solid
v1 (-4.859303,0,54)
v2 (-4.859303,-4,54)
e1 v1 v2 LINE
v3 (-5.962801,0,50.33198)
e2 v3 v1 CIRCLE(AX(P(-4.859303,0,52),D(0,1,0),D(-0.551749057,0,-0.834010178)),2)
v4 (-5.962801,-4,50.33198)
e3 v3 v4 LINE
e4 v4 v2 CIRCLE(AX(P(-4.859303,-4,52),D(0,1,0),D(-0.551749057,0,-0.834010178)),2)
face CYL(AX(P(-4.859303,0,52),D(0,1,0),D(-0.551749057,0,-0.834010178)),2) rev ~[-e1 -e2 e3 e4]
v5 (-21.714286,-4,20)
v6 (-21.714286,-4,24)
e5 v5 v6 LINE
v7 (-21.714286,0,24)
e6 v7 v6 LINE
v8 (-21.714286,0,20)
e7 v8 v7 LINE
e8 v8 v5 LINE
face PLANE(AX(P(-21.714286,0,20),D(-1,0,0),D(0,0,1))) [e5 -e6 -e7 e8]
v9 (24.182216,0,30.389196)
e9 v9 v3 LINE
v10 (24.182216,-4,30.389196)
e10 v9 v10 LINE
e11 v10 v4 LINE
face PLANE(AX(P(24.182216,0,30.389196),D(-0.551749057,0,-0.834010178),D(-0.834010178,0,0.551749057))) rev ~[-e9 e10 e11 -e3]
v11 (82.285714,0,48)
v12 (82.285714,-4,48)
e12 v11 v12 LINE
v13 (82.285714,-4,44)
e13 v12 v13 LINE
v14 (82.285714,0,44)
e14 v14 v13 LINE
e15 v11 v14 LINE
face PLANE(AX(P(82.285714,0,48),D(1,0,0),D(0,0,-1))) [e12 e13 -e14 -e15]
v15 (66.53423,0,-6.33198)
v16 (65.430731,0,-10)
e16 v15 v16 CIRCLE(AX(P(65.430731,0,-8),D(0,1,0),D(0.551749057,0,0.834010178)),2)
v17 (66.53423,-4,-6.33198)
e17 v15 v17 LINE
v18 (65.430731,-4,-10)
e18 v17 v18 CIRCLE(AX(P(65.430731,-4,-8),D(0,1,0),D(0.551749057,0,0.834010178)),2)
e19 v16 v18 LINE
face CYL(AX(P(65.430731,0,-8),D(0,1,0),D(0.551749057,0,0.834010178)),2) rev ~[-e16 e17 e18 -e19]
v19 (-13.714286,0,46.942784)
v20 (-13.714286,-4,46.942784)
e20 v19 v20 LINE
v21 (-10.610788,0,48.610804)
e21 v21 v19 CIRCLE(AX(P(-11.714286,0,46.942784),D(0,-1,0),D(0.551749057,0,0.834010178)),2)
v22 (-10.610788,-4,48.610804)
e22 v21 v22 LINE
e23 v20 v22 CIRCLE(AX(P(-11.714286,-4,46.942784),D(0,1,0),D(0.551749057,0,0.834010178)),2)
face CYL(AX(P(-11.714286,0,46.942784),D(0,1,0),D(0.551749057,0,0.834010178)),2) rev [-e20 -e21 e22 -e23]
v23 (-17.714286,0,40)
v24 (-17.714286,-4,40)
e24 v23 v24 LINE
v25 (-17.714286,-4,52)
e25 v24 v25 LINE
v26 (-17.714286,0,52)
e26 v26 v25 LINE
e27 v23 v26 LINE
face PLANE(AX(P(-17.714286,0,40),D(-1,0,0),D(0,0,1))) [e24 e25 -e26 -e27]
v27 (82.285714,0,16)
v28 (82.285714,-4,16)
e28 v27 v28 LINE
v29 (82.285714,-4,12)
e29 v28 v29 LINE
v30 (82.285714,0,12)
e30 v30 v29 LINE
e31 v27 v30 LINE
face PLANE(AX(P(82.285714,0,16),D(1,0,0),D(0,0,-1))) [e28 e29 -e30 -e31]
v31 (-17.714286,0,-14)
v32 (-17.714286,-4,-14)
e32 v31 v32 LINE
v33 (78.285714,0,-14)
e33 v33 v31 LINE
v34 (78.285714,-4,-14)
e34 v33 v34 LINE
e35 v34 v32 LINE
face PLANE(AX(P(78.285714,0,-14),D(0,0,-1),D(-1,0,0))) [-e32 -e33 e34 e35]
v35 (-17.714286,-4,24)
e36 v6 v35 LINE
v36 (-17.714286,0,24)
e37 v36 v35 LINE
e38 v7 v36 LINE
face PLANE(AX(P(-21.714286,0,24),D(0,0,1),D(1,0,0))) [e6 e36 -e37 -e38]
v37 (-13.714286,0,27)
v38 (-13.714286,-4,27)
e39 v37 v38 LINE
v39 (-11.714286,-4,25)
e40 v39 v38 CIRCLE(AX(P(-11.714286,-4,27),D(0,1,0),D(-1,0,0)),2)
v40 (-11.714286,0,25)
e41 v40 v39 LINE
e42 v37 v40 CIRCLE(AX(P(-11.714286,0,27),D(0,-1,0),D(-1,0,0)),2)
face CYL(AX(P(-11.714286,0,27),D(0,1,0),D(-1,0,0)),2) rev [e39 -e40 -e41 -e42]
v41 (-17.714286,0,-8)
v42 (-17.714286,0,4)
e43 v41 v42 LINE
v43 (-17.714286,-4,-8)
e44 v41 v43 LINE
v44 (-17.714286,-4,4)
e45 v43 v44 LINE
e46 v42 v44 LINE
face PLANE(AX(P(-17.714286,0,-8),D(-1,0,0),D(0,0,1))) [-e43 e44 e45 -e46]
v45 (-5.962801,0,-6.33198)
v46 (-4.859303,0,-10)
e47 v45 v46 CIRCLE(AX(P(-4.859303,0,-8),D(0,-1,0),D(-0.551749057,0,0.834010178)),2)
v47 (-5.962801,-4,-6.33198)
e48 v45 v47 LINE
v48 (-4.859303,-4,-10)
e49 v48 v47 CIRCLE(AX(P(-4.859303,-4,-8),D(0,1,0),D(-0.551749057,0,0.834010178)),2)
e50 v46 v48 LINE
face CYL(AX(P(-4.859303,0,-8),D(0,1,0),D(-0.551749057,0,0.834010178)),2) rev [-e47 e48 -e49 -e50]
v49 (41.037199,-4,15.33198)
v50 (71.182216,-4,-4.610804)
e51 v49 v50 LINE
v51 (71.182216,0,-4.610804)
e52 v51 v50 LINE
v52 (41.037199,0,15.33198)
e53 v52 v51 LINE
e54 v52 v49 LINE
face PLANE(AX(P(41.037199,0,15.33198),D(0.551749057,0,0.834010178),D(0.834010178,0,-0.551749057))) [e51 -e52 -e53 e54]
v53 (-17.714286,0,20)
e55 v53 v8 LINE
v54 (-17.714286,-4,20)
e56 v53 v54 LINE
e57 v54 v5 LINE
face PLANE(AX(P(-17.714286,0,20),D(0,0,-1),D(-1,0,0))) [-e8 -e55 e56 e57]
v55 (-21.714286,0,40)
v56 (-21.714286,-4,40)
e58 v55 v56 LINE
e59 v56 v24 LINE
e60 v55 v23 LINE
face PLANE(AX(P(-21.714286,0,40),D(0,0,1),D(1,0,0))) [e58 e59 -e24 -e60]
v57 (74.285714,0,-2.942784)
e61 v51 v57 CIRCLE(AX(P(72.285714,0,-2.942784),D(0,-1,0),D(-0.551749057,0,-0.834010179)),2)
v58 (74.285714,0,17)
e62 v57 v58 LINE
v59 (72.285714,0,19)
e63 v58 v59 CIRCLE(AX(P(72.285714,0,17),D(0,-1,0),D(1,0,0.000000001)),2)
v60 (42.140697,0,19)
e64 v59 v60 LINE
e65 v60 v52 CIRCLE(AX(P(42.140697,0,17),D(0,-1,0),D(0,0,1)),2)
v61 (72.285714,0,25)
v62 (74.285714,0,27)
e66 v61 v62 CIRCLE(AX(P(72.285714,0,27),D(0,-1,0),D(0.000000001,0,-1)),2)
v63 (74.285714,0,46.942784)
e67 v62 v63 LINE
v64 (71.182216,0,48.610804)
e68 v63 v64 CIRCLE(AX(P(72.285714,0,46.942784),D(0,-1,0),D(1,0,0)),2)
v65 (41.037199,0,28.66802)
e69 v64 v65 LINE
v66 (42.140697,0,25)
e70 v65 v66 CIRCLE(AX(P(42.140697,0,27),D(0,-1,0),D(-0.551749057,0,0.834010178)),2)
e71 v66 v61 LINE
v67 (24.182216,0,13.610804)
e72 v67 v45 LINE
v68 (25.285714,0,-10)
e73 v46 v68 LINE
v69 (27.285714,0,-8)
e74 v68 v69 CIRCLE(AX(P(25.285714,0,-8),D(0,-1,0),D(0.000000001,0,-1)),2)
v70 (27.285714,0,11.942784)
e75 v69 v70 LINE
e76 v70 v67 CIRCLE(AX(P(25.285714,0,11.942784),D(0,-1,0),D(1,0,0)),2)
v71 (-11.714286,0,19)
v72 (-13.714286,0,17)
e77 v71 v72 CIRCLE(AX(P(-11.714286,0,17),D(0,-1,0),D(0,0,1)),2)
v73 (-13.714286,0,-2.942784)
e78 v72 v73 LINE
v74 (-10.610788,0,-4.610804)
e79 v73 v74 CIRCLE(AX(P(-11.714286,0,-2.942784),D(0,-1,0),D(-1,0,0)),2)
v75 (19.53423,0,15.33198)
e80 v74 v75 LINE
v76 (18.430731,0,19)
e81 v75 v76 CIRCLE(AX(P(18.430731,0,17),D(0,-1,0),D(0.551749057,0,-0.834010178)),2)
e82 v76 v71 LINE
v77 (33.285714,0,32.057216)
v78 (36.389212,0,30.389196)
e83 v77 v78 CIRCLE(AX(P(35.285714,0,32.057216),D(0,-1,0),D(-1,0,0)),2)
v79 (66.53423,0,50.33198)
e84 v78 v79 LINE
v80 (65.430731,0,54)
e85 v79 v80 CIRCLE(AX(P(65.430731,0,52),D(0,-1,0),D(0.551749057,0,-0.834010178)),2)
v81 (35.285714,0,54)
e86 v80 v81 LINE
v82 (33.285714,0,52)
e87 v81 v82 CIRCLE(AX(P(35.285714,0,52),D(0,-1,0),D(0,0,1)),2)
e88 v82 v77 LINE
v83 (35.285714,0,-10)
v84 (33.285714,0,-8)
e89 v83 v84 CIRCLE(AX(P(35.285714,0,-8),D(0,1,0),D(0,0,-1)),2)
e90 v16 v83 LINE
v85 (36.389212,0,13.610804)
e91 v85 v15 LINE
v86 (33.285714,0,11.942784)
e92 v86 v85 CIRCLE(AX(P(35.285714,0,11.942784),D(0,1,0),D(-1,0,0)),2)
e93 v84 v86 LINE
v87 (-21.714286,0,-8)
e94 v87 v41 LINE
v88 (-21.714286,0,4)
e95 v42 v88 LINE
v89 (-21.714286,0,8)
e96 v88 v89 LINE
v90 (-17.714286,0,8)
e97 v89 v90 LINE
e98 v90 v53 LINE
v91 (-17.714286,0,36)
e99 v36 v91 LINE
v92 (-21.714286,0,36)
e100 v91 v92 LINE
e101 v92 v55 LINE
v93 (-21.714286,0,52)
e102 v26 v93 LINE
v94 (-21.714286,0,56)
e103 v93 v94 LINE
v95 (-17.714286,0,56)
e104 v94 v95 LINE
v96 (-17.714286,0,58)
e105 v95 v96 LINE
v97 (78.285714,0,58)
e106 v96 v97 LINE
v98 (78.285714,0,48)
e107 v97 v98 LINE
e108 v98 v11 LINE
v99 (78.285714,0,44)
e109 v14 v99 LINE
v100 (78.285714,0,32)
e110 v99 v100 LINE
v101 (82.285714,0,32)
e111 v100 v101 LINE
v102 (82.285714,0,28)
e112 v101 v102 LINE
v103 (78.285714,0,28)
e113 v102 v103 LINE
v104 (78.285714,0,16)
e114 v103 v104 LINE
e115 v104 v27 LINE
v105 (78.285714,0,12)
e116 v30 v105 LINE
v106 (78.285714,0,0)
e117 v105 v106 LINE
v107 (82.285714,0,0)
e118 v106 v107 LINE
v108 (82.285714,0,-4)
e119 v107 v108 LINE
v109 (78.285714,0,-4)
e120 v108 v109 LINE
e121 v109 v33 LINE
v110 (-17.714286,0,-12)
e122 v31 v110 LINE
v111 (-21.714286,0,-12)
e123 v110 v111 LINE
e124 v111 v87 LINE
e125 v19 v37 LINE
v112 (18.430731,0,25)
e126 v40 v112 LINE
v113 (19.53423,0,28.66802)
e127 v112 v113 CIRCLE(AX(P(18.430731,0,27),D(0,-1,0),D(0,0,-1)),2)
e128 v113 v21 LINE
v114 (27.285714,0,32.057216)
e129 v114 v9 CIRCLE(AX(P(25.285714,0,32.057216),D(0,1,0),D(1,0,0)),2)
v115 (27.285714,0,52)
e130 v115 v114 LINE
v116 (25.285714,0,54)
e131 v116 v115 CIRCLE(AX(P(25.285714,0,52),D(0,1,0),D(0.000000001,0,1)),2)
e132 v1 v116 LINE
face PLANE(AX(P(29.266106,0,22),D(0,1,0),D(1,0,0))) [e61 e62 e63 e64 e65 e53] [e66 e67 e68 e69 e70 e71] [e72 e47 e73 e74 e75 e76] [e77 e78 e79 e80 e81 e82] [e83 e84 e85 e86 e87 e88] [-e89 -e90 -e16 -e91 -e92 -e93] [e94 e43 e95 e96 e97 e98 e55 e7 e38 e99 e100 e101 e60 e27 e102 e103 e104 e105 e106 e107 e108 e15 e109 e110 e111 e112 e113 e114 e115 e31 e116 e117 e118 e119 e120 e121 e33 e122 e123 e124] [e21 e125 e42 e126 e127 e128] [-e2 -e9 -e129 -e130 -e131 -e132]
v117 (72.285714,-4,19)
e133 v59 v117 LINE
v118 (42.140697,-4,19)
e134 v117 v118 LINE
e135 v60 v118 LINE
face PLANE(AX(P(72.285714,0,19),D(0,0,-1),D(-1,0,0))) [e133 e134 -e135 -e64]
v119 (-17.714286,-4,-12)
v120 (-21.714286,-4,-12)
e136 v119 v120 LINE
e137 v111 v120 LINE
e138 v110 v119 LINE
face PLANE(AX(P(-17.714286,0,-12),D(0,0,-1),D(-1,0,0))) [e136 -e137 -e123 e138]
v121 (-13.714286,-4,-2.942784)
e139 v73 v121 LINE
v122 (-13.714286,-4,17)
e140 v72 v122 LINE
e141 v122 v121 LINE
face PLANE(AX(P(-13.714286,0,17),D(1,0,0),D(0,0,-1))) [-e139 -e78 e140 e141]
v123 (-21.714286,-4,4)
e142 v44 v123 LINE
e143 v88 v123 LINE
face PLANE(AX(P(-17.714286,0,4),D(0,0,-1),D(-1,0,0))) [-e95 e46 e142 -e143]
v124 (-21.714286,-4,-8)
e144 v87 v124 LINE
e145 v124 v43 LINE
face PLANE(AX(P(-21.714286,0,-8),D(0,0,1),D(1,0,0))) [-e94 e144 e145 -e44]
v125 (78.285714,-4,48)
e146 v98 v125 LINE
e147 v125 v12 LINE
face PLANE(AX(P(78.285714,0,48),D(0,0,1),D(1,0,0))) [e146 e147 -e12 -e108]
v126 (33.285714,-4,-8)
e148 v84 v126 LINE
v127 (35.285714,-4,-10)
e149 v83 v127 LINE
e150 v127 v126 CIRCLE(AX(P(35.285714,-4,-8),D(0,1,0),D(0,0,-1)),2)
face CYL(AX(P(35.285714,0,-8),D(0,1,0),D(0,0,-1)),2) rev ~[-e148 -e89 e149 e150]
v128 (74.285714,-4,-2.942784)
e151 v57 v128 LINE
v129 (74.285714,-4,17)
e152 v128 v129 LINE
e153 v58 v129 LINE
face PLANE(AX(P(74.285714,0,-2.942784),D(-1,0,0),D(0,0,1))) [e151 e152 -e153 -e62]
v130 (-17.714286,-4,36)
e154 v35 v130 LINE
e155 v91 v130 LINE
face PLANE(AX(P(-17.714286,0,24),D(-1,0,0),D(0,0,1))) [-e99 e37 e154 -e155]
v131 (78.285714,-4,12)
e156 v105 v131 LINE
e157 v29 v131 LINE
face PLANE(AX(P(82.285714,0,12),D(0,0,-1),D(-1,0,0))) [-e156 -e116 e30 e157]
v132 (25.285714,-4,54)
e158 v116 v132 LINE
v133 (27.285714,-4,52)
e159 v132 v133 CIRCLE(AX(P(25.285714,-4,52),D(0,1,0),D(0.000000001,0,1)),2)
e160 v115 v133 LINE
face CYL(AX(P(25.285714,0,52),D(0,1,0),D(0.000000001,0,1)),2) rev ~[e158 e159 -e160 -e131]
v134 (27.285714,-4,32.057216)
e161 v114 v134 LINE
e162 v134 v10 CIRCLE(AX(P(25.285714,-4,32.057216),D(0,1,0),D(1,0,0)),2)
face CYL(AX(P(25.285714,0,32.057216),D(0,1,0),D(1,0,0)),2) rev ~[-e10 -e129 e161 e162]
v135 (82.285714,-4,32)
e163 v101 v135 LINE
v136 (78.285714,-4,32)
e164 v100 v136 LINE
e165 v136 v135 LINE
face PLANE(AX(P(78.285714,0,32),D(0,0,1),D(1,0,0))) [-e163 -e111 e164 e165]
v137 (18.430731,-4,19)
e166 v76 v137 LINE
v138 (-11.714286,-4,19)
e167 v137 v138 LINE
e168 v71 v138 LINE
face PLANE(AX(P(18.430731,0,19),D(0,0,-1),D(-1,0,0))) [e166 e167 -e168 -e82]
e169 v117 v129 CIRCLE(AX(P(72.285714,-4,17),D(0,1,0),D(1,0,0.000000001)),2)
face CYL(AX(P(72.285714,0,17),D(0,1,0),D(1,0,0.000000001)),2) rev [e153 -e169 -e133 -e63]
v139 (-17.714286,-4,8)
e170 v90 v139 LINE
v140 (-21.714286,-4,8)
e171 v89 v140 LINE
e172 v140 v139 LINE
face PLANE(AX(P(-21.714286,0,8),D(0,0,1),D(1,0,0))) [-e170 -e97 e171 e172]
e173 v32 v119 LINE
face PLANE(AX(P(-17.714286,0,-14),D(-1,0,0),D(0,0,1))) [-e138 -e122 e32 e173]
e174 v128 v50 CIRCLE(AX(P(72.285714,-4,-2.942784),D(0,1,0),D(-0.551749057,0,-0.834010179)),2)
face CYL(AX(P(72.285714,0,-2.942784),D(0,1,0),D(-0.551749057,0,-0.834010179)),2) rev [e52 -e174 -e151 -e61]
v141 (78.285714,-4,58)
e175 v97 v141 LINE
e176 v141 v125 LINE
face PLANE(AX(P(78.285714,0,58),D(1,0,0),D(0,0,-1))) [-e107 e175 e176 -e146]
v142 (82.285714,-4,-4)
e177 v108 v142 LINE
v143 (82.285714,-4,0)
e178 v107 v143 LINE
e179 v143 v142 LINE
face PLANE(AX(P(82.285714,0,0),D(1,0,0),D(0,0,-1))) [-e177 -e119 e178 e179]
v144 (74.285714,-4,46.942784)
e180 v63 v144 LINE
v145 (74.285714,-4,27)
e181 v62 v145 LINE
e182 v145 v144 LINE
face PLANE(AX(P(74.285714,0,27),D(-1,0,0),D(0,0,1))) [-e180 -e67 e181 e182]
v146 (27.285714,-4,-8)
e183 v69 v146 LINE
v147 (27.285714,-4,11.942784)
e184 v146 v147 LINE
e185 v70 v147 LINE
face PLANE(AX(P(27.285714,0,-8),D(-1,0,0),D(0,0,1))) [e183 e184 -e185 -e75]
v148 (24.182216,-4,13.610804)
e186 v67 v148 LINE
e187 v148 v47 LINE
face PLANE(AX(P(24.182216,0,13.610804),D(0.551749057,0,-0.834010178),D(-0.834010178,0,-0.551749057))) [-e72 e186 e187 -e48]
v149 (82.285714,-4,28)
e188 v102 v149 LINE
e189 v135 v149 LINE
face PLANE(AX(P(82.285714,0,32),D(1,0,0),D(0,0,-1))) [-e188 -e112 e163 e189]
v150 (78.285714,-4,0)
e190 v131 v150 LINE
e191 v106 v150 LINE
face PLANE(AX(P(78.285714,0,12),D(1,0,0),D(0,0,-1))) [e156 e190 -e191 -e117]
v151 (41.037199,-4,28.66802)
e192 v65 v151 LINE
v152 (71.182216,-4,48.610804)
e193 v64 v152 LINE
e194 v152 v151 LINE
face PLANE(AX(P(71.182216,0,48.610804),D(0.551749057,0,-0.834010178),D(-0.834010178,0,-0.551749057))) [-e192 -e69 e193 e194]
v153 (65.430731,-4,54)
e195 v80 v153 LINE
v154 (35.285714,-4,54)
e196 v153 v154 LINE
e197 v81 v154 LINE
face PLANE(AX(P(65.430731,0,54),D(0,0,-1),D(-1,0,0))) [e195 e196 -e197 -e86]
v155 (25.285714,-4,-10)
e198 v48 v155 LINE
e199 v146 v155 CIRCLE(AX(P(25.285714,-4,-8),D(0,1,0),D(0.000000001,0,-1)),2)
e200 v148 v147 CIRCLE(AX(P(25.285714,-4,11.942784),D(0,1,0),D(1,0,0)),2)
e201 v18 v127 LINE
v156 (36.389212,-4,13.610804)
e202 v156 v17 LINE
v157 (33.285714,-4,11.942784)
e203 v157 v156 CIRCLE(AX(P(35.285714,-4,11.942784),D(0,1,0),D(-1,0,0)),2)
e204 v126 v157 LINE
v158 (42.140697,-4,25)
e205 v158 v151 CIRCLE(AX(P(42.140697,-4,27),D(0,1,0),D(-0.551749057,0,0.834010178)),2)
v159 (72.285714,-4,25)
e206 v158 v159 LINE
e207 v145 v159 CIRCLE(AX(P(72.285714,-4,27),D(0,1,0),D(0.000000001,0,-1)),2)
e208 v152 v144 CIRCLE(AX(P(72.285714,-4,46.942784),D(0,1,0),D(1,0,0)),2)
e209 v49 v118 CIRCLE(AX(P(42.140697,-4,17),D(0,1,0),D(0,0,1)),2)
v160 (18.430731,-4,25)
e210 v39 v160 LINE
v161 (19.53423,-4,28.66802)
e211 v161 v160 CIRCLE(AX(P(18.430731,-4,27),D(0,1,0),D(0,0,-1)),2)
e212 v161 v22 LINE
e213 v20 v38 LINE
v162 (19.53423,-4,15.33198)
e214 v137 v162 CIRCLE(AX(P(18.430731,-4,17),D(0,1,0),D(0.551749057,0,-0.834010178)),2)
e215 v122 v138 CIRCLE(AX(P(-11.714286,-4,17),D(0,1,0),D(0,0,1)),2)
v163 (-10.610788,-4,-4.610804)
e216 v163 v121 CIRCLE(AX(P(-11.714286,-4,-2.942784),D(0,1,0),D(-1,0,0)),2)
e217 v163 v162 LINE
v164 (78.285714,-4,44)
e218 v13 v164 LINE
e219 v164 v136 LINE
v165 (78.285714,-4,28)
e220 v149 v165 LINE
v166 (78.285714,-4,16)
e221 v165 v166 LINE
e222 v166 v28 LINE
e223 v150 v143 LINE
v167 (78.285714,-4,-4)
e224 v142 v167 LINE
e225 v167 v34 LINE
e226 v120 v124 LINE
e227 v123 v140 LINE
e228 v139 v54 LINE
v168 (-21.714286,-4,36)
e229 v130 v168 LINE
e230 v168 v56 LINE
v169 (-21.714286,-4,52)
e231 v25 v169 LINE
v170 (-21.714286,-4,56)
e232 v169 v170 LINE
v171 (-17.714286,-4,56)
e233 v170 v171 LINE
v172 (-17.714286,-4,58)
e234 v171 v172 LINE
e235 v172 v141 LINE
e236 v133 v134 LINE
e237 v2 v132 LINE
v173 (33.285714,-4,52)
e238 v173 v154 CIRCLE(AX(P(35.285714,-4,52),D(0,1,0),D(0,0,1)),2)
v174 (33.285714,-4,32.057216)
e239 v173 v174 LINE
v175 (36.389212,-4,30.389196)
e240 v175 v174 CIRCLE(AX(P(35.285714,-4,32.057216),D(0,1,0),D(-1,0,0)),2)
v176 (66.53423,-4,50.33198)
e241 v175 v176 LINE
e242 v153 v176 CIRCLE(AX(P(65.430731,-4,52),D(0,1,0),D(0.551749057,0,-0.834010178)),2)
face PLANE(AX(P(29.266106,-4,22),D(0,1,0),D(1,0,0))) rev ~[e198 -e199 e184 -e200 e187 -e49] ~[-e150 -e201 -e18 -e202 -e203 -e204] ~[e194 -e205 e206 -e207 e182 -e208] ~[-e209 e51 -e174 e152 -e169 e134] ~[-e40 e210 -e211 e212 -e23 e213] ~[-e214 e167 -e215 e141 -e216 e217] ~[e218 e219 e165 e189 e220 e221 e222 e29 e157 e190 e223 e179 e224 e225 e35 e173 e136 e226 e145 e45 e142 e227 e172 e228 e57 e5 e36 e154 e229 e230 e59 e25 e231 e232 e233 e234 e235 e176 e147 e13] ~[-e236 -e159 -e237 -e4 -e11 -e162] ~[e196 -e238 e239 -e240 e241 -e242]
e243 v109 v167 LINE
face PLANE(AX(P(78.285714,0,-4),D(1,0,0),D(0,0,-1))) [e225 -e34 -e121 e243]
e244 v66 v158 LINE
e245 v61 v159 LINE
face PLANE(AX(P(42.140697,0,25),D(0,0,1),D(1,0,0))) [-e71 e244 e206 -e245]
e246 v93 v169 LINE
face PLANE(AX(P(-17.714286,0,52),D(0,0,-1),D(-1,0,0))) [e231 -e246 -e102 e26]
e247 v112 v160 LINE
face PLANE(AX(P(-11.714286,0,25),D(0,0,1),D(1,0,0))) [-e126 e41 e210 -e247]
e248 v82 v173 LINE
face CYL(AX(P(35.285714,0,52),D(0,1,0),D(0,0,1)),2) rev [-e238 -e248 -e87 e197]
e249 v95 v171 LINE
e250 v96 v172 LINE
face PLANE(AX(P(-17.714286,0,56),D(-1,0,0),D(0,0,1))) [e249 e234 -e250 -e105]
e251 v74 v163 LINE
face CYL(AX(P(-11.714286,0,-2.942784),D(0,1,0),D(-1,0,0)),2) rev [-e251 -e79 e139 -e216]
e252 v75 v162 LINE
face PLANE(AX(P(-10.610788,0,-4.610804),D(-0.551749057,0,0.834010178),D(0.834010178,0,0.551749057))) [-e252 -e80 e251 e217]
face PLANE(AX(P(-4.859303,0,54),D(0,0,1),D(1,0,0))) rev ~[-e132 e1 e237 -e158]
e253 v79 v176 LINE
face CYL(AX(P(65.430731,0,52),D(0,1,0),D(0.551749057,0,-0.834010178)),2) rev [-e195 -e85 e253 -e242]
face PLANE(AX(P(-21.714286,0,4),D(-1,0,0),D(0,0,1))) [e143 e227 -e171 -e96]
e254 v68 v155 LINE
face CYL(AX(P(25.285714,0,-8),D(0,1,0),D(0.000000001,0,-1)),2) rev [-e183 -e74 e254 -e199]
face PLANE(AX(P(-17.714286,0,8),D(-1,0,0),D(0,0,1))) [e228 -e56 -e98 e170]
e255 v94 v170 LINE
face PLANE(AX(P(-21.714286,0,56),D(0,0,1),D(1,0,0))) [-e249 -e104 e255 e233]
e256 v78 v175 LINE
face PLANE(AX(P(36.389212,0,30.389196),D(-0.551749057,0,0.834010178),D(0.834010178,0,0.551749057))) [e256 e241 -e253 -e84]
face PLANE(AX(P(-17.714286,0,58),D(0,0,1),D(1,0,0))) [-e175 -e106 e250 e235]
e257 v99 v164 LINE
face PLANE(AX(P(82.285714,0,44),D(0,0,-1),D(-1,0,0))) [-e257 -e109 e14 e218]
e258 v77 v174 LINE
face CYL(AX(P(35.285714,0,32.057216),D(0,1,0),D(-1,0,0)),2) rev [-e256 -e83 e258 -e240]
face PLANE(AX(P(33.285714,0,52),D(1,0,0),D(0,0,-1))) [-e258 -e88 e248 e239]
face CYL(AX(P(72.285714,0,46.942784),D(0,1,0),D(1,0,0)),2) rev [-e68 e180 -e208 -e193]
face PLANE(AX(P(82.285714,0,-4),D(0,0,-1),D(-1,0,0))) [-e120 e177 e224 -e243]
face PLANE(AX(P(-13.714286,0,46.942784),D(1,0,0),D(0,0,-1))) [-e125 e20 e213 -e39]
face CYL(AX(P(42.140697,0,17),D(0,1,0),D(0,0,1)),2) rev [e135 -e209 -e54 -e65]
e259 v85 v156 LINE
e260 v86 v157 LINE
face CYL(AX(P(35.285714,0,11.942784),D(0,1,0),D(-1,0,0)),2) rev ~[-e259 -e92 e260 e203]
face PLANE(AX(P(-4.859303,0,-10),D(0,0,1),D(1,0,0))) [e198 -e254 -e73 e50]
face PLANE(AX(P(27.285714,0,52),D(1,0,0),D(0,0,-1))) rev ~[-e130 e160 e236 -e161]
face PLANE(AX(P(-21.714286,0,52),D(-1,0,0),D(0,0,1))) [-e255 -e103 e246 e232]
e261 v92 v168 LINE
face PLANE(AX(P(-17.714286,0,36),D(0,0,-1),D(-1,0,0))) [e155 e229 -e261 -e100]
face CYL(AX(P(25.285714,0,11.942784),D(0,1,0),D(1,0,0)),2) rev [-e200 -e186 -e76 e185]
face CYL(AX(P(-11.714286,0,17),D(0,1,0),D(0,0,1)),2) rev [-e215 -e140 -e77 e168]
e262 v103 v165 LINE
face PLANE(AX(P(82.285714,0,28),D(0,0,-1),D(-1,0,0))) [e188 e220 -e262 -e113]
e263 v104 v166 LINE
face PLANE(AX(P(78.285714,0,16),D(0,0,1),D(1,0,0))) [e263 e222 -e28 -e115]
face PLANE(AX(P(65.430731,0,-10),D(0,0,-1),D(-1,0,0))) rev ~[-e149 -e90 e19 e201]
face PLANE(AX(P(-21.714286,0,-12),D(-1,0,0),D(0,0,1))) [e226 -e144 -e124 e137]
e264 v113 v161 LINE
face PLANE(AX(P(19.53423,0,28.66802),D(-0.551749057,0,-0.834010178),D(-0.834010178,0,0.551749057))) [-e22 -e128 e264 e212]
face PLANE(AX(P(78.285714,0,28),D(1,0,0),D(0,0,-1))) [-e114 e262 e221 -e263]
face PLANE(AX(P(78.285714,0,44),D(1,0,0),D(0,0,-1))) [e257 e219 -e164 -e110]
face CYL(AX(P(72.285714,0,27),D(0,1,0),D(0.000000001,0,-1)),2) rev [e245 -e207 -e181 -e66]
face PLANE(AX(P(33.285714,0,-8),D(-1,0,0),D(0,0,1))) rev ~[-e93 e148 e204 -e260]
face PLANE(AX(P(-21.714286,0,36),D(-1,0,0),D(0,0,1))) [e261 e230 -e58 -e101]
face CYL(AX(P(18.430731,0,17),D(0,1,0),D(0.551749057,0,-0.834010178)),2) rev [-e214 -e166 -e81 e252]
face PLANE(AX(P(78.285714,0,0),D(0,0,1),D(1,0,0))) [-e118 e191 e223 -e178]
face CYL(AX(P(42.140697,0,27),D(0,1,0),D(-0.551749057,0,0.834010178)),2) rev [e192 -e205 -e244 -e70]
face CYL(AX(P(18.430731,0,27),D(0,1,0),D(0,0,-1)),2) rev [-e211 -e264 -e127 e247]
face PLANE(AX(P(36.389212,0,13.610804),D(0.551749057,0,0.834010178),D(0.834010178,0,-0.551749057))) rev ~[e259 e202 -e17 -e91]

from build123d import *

# Parameters (mm, degrees)
BOSS_EXTRUDE1_DEPTH = 4
CUT_EXTRUDE1_DEPTH  = 10


with BuildPart() as part:
    # Sketch1 → Boss-Extrude1 (new body)
    with BuildSketch(Plane(origin=(0, 0, 0), x_dir=(1, 0, 0), z_dir=(0, 1, 0))):
        Polygon((-17.714285714, 14), (-17.714285714, 12), (-21.714285714, 12), (-21.714285714, 8), (-17.714285714, 8), (-17.714285714, -4), (-21.714285714, -4), (-21.714285714, -8), (-17.714285714, -8), (-17.714285714, -20), (-21.714285714, -20), (-21.714285714, -24), (-17.714285714, -24), (-17.714285714, -36), (-21.714285714, -36), (-21.714285714, -40), (-17.714285714, -40), (-17.714285714, -52), (-21.714285714, -52), (-21.714285714, -56), (-17.714285714, -56), (-17.714285714, -58), (78.285714286, -58), (78.285714286, -48), (82.285714286, -48), (82.285714286, -44), (78.285714286, -44), (78.285714286, -32), (82.285714286, -32), (82.285714286, -28), (78.285714286, -28), (78.285714286, -16), (82.285714286, -16), (82.285714286, -12), (78.285714286, -12), (78.285714286, 0), (82.285714286, 0), (82.285714286, 4), (78.285714286, 4), (78.285714286, 14), align=None)
    extrude(amount=-BOSS_EXTRUDE1_DEPTH)

    # Sketch2 → Cut-Extrude1 (cut)
    with BuildSketch(Plane(origin=(0, 0, 0), x_dir=(1, 0, 0), z_dir=(0, 1, 0))):
        with BuildLine():
            Line((-4.859302854, 10), (25.285714286, 10))
            ThreePointArc((25.285714286, 10), (26.699927848, 9.414213562), (27.285714286, 8))
            Line((27.285714286, 8), (27.285714286, -11.94278394))
            ThreePointArc((27.285714286, -11.94278394), (26.23255212, -13.704458744), (24.182216171, -13.610804297))
            Line((24.182216171, -13.610804297), (-5.962800969, 6.331979643))
            ThreePointArc((-5.962800969, 6.331979643), (-6.774510508, 8.576176746), (-4.859302854, 10))
        make_face()
        with BuildLine():
            Line((33.285714286, 8), (33.285714286, -11.94278394))
            ThreePointArc((33.285714286, -11.94278394), (34.338876451, -13.704458744), (36.3892124, -13.610804297))
            Line((36.3892124, -13.610804297), (66.53422954, 6.331979643))
            ThreePointArc((66.53422954, 6.331979643), (67.345939079, 8.576176746), (65.430731426, 10))
            Line((65.430731426, 10), (35.285714286, 10))
            ThreePointArc((35.285714286, 10), (33.871500723, 9.414213562), (33.285714286, 8))
        make_face()
        with BuildLine():
            ThreePointArc((74.285714286, -17), (73.699927848, -18.414213562), (72.285714286, -19))
            Line((72.285714286, -19), (42.140697146, -19))
            ThreePointArc((42.140697146, -19), (40.225489492, -17.576176746), (41.037199031, -15.331979643))
            Line((41.037199031, -15.331979643), (71.182216171, 4.610804297))
            ThreePointArc((71.182216171, 4.610804297), (73.23255212, 4.704458744), (74.285714286, 2.94278394))
            Line((74.285714286, 2.94278394), (74.285714286, -17))
        make_face()
        with BuildLine():
            ThreePointArc((74.285714286, -46.94278394), (73.23255212, -48.704458744), (71.182216171, -48.610804297))
            Line((71.182216171, -48.610804297), (41.037199031, -28.668020357))
            ThreePointArc((41.037199031, -28.668020357), (40.225489492, -26.423823254), (42.140697146, -25))
            Line((42.140697146, -25), (72.285714286, -25))
            ThreePointArc((72.285714286, -25), (73.699927848, -25.585786438), (74.285714286, -27))
            Line((74.285714286, -27), (74.285714286, -46.94278394))
        make_face()
        with BuildLine():
            Line((65.430731426, -54), (35.285714286, -54))
            ThreePointArc((35.285714286, -54), (33.871500723, -53.414213562), (33.285714286, -52))
            Line((33.285714286, -52), (33.285714286, -32.05721606))
            ThreePointArc((33.285714286, -32.05721606), (34.338876451, -30.295541256), (36.3892124, -30.389195703))
            Line((36.3892124, -30.389195703), (66.53422954, -50.331979643))
            ThreePointArc((66.53422954, -50.331979643), (67.345939079, -52.576176746), (65.430731426, -54))
        make_face()
        with BuildLine():
            Line((27.285714286, -52), (27.285714286, -32.05721606))
            ThreePointArc((27.285714286, -32.05721606), (26.23255212, -30.295541256), (24.182216171, -30.389195703))
            Line((24.182216171, -30.389195703), (-5.962800969, -50.331979643))
            ThreePointArc((-5.962800969, -50.331979643), (-6.774510508, -52.576176746), (-4.859302854, -54))
            Line((-4.859302854, -54), (25.285714286, -54))
            ThreePointArc((25.285714286, -54), (26.699927848, -53.414213562), (27.285714286, -52))
        make_face()
        with BuildLine():
            ThreePointArc((-13.714285714, -27), (-13.128499277, -25.585786438), (-11.714285714, -25))
            Line((-11.714285714, -25), (18.430731426, -25))
            ThreePointArc((18.430731426, -25), (20.345939079, -26.423823254), (19.53422954, -28.668020357))
            Line((19.53422954, -28.668020357), (-10.6107876, -48.610804297))
            ThreePointArc((-10.6107876, -48.610804297), (-12.661123549, -48.704458744), (-13.714285714, -46.94278394))
            Line((-13.714285714, -46.94278394), (-13.714285714, -27))
        make_face()
        with BuildLine():
            ThreePointArc((-13.714285714, 2.94278394), (-12.661123549, 4.704458744), (-10.6107876, 4.610804297))
            Line((-10.6107876, 4.610804297), (19.53422954, -15.331979643))
            ThreePointArc((19.53422954, -15.331979643), (20.345939079, -17.576176746), (18.430731426, -19))
            Line((18.430731426, -19), (-11.714285714, -19))
            ThreePointArc((-11.714285714, -19), (-13.128499277, -18.414213562), (-13.714285714, -17))
            Line((-13.714285714, -17), (-13.714285714, 2.94278394))
        make_face()
    extrude(amount=-CUT_EXTRUDE1_DEPTH, mode=Mode.SUBTRACT)


solid = part.part
